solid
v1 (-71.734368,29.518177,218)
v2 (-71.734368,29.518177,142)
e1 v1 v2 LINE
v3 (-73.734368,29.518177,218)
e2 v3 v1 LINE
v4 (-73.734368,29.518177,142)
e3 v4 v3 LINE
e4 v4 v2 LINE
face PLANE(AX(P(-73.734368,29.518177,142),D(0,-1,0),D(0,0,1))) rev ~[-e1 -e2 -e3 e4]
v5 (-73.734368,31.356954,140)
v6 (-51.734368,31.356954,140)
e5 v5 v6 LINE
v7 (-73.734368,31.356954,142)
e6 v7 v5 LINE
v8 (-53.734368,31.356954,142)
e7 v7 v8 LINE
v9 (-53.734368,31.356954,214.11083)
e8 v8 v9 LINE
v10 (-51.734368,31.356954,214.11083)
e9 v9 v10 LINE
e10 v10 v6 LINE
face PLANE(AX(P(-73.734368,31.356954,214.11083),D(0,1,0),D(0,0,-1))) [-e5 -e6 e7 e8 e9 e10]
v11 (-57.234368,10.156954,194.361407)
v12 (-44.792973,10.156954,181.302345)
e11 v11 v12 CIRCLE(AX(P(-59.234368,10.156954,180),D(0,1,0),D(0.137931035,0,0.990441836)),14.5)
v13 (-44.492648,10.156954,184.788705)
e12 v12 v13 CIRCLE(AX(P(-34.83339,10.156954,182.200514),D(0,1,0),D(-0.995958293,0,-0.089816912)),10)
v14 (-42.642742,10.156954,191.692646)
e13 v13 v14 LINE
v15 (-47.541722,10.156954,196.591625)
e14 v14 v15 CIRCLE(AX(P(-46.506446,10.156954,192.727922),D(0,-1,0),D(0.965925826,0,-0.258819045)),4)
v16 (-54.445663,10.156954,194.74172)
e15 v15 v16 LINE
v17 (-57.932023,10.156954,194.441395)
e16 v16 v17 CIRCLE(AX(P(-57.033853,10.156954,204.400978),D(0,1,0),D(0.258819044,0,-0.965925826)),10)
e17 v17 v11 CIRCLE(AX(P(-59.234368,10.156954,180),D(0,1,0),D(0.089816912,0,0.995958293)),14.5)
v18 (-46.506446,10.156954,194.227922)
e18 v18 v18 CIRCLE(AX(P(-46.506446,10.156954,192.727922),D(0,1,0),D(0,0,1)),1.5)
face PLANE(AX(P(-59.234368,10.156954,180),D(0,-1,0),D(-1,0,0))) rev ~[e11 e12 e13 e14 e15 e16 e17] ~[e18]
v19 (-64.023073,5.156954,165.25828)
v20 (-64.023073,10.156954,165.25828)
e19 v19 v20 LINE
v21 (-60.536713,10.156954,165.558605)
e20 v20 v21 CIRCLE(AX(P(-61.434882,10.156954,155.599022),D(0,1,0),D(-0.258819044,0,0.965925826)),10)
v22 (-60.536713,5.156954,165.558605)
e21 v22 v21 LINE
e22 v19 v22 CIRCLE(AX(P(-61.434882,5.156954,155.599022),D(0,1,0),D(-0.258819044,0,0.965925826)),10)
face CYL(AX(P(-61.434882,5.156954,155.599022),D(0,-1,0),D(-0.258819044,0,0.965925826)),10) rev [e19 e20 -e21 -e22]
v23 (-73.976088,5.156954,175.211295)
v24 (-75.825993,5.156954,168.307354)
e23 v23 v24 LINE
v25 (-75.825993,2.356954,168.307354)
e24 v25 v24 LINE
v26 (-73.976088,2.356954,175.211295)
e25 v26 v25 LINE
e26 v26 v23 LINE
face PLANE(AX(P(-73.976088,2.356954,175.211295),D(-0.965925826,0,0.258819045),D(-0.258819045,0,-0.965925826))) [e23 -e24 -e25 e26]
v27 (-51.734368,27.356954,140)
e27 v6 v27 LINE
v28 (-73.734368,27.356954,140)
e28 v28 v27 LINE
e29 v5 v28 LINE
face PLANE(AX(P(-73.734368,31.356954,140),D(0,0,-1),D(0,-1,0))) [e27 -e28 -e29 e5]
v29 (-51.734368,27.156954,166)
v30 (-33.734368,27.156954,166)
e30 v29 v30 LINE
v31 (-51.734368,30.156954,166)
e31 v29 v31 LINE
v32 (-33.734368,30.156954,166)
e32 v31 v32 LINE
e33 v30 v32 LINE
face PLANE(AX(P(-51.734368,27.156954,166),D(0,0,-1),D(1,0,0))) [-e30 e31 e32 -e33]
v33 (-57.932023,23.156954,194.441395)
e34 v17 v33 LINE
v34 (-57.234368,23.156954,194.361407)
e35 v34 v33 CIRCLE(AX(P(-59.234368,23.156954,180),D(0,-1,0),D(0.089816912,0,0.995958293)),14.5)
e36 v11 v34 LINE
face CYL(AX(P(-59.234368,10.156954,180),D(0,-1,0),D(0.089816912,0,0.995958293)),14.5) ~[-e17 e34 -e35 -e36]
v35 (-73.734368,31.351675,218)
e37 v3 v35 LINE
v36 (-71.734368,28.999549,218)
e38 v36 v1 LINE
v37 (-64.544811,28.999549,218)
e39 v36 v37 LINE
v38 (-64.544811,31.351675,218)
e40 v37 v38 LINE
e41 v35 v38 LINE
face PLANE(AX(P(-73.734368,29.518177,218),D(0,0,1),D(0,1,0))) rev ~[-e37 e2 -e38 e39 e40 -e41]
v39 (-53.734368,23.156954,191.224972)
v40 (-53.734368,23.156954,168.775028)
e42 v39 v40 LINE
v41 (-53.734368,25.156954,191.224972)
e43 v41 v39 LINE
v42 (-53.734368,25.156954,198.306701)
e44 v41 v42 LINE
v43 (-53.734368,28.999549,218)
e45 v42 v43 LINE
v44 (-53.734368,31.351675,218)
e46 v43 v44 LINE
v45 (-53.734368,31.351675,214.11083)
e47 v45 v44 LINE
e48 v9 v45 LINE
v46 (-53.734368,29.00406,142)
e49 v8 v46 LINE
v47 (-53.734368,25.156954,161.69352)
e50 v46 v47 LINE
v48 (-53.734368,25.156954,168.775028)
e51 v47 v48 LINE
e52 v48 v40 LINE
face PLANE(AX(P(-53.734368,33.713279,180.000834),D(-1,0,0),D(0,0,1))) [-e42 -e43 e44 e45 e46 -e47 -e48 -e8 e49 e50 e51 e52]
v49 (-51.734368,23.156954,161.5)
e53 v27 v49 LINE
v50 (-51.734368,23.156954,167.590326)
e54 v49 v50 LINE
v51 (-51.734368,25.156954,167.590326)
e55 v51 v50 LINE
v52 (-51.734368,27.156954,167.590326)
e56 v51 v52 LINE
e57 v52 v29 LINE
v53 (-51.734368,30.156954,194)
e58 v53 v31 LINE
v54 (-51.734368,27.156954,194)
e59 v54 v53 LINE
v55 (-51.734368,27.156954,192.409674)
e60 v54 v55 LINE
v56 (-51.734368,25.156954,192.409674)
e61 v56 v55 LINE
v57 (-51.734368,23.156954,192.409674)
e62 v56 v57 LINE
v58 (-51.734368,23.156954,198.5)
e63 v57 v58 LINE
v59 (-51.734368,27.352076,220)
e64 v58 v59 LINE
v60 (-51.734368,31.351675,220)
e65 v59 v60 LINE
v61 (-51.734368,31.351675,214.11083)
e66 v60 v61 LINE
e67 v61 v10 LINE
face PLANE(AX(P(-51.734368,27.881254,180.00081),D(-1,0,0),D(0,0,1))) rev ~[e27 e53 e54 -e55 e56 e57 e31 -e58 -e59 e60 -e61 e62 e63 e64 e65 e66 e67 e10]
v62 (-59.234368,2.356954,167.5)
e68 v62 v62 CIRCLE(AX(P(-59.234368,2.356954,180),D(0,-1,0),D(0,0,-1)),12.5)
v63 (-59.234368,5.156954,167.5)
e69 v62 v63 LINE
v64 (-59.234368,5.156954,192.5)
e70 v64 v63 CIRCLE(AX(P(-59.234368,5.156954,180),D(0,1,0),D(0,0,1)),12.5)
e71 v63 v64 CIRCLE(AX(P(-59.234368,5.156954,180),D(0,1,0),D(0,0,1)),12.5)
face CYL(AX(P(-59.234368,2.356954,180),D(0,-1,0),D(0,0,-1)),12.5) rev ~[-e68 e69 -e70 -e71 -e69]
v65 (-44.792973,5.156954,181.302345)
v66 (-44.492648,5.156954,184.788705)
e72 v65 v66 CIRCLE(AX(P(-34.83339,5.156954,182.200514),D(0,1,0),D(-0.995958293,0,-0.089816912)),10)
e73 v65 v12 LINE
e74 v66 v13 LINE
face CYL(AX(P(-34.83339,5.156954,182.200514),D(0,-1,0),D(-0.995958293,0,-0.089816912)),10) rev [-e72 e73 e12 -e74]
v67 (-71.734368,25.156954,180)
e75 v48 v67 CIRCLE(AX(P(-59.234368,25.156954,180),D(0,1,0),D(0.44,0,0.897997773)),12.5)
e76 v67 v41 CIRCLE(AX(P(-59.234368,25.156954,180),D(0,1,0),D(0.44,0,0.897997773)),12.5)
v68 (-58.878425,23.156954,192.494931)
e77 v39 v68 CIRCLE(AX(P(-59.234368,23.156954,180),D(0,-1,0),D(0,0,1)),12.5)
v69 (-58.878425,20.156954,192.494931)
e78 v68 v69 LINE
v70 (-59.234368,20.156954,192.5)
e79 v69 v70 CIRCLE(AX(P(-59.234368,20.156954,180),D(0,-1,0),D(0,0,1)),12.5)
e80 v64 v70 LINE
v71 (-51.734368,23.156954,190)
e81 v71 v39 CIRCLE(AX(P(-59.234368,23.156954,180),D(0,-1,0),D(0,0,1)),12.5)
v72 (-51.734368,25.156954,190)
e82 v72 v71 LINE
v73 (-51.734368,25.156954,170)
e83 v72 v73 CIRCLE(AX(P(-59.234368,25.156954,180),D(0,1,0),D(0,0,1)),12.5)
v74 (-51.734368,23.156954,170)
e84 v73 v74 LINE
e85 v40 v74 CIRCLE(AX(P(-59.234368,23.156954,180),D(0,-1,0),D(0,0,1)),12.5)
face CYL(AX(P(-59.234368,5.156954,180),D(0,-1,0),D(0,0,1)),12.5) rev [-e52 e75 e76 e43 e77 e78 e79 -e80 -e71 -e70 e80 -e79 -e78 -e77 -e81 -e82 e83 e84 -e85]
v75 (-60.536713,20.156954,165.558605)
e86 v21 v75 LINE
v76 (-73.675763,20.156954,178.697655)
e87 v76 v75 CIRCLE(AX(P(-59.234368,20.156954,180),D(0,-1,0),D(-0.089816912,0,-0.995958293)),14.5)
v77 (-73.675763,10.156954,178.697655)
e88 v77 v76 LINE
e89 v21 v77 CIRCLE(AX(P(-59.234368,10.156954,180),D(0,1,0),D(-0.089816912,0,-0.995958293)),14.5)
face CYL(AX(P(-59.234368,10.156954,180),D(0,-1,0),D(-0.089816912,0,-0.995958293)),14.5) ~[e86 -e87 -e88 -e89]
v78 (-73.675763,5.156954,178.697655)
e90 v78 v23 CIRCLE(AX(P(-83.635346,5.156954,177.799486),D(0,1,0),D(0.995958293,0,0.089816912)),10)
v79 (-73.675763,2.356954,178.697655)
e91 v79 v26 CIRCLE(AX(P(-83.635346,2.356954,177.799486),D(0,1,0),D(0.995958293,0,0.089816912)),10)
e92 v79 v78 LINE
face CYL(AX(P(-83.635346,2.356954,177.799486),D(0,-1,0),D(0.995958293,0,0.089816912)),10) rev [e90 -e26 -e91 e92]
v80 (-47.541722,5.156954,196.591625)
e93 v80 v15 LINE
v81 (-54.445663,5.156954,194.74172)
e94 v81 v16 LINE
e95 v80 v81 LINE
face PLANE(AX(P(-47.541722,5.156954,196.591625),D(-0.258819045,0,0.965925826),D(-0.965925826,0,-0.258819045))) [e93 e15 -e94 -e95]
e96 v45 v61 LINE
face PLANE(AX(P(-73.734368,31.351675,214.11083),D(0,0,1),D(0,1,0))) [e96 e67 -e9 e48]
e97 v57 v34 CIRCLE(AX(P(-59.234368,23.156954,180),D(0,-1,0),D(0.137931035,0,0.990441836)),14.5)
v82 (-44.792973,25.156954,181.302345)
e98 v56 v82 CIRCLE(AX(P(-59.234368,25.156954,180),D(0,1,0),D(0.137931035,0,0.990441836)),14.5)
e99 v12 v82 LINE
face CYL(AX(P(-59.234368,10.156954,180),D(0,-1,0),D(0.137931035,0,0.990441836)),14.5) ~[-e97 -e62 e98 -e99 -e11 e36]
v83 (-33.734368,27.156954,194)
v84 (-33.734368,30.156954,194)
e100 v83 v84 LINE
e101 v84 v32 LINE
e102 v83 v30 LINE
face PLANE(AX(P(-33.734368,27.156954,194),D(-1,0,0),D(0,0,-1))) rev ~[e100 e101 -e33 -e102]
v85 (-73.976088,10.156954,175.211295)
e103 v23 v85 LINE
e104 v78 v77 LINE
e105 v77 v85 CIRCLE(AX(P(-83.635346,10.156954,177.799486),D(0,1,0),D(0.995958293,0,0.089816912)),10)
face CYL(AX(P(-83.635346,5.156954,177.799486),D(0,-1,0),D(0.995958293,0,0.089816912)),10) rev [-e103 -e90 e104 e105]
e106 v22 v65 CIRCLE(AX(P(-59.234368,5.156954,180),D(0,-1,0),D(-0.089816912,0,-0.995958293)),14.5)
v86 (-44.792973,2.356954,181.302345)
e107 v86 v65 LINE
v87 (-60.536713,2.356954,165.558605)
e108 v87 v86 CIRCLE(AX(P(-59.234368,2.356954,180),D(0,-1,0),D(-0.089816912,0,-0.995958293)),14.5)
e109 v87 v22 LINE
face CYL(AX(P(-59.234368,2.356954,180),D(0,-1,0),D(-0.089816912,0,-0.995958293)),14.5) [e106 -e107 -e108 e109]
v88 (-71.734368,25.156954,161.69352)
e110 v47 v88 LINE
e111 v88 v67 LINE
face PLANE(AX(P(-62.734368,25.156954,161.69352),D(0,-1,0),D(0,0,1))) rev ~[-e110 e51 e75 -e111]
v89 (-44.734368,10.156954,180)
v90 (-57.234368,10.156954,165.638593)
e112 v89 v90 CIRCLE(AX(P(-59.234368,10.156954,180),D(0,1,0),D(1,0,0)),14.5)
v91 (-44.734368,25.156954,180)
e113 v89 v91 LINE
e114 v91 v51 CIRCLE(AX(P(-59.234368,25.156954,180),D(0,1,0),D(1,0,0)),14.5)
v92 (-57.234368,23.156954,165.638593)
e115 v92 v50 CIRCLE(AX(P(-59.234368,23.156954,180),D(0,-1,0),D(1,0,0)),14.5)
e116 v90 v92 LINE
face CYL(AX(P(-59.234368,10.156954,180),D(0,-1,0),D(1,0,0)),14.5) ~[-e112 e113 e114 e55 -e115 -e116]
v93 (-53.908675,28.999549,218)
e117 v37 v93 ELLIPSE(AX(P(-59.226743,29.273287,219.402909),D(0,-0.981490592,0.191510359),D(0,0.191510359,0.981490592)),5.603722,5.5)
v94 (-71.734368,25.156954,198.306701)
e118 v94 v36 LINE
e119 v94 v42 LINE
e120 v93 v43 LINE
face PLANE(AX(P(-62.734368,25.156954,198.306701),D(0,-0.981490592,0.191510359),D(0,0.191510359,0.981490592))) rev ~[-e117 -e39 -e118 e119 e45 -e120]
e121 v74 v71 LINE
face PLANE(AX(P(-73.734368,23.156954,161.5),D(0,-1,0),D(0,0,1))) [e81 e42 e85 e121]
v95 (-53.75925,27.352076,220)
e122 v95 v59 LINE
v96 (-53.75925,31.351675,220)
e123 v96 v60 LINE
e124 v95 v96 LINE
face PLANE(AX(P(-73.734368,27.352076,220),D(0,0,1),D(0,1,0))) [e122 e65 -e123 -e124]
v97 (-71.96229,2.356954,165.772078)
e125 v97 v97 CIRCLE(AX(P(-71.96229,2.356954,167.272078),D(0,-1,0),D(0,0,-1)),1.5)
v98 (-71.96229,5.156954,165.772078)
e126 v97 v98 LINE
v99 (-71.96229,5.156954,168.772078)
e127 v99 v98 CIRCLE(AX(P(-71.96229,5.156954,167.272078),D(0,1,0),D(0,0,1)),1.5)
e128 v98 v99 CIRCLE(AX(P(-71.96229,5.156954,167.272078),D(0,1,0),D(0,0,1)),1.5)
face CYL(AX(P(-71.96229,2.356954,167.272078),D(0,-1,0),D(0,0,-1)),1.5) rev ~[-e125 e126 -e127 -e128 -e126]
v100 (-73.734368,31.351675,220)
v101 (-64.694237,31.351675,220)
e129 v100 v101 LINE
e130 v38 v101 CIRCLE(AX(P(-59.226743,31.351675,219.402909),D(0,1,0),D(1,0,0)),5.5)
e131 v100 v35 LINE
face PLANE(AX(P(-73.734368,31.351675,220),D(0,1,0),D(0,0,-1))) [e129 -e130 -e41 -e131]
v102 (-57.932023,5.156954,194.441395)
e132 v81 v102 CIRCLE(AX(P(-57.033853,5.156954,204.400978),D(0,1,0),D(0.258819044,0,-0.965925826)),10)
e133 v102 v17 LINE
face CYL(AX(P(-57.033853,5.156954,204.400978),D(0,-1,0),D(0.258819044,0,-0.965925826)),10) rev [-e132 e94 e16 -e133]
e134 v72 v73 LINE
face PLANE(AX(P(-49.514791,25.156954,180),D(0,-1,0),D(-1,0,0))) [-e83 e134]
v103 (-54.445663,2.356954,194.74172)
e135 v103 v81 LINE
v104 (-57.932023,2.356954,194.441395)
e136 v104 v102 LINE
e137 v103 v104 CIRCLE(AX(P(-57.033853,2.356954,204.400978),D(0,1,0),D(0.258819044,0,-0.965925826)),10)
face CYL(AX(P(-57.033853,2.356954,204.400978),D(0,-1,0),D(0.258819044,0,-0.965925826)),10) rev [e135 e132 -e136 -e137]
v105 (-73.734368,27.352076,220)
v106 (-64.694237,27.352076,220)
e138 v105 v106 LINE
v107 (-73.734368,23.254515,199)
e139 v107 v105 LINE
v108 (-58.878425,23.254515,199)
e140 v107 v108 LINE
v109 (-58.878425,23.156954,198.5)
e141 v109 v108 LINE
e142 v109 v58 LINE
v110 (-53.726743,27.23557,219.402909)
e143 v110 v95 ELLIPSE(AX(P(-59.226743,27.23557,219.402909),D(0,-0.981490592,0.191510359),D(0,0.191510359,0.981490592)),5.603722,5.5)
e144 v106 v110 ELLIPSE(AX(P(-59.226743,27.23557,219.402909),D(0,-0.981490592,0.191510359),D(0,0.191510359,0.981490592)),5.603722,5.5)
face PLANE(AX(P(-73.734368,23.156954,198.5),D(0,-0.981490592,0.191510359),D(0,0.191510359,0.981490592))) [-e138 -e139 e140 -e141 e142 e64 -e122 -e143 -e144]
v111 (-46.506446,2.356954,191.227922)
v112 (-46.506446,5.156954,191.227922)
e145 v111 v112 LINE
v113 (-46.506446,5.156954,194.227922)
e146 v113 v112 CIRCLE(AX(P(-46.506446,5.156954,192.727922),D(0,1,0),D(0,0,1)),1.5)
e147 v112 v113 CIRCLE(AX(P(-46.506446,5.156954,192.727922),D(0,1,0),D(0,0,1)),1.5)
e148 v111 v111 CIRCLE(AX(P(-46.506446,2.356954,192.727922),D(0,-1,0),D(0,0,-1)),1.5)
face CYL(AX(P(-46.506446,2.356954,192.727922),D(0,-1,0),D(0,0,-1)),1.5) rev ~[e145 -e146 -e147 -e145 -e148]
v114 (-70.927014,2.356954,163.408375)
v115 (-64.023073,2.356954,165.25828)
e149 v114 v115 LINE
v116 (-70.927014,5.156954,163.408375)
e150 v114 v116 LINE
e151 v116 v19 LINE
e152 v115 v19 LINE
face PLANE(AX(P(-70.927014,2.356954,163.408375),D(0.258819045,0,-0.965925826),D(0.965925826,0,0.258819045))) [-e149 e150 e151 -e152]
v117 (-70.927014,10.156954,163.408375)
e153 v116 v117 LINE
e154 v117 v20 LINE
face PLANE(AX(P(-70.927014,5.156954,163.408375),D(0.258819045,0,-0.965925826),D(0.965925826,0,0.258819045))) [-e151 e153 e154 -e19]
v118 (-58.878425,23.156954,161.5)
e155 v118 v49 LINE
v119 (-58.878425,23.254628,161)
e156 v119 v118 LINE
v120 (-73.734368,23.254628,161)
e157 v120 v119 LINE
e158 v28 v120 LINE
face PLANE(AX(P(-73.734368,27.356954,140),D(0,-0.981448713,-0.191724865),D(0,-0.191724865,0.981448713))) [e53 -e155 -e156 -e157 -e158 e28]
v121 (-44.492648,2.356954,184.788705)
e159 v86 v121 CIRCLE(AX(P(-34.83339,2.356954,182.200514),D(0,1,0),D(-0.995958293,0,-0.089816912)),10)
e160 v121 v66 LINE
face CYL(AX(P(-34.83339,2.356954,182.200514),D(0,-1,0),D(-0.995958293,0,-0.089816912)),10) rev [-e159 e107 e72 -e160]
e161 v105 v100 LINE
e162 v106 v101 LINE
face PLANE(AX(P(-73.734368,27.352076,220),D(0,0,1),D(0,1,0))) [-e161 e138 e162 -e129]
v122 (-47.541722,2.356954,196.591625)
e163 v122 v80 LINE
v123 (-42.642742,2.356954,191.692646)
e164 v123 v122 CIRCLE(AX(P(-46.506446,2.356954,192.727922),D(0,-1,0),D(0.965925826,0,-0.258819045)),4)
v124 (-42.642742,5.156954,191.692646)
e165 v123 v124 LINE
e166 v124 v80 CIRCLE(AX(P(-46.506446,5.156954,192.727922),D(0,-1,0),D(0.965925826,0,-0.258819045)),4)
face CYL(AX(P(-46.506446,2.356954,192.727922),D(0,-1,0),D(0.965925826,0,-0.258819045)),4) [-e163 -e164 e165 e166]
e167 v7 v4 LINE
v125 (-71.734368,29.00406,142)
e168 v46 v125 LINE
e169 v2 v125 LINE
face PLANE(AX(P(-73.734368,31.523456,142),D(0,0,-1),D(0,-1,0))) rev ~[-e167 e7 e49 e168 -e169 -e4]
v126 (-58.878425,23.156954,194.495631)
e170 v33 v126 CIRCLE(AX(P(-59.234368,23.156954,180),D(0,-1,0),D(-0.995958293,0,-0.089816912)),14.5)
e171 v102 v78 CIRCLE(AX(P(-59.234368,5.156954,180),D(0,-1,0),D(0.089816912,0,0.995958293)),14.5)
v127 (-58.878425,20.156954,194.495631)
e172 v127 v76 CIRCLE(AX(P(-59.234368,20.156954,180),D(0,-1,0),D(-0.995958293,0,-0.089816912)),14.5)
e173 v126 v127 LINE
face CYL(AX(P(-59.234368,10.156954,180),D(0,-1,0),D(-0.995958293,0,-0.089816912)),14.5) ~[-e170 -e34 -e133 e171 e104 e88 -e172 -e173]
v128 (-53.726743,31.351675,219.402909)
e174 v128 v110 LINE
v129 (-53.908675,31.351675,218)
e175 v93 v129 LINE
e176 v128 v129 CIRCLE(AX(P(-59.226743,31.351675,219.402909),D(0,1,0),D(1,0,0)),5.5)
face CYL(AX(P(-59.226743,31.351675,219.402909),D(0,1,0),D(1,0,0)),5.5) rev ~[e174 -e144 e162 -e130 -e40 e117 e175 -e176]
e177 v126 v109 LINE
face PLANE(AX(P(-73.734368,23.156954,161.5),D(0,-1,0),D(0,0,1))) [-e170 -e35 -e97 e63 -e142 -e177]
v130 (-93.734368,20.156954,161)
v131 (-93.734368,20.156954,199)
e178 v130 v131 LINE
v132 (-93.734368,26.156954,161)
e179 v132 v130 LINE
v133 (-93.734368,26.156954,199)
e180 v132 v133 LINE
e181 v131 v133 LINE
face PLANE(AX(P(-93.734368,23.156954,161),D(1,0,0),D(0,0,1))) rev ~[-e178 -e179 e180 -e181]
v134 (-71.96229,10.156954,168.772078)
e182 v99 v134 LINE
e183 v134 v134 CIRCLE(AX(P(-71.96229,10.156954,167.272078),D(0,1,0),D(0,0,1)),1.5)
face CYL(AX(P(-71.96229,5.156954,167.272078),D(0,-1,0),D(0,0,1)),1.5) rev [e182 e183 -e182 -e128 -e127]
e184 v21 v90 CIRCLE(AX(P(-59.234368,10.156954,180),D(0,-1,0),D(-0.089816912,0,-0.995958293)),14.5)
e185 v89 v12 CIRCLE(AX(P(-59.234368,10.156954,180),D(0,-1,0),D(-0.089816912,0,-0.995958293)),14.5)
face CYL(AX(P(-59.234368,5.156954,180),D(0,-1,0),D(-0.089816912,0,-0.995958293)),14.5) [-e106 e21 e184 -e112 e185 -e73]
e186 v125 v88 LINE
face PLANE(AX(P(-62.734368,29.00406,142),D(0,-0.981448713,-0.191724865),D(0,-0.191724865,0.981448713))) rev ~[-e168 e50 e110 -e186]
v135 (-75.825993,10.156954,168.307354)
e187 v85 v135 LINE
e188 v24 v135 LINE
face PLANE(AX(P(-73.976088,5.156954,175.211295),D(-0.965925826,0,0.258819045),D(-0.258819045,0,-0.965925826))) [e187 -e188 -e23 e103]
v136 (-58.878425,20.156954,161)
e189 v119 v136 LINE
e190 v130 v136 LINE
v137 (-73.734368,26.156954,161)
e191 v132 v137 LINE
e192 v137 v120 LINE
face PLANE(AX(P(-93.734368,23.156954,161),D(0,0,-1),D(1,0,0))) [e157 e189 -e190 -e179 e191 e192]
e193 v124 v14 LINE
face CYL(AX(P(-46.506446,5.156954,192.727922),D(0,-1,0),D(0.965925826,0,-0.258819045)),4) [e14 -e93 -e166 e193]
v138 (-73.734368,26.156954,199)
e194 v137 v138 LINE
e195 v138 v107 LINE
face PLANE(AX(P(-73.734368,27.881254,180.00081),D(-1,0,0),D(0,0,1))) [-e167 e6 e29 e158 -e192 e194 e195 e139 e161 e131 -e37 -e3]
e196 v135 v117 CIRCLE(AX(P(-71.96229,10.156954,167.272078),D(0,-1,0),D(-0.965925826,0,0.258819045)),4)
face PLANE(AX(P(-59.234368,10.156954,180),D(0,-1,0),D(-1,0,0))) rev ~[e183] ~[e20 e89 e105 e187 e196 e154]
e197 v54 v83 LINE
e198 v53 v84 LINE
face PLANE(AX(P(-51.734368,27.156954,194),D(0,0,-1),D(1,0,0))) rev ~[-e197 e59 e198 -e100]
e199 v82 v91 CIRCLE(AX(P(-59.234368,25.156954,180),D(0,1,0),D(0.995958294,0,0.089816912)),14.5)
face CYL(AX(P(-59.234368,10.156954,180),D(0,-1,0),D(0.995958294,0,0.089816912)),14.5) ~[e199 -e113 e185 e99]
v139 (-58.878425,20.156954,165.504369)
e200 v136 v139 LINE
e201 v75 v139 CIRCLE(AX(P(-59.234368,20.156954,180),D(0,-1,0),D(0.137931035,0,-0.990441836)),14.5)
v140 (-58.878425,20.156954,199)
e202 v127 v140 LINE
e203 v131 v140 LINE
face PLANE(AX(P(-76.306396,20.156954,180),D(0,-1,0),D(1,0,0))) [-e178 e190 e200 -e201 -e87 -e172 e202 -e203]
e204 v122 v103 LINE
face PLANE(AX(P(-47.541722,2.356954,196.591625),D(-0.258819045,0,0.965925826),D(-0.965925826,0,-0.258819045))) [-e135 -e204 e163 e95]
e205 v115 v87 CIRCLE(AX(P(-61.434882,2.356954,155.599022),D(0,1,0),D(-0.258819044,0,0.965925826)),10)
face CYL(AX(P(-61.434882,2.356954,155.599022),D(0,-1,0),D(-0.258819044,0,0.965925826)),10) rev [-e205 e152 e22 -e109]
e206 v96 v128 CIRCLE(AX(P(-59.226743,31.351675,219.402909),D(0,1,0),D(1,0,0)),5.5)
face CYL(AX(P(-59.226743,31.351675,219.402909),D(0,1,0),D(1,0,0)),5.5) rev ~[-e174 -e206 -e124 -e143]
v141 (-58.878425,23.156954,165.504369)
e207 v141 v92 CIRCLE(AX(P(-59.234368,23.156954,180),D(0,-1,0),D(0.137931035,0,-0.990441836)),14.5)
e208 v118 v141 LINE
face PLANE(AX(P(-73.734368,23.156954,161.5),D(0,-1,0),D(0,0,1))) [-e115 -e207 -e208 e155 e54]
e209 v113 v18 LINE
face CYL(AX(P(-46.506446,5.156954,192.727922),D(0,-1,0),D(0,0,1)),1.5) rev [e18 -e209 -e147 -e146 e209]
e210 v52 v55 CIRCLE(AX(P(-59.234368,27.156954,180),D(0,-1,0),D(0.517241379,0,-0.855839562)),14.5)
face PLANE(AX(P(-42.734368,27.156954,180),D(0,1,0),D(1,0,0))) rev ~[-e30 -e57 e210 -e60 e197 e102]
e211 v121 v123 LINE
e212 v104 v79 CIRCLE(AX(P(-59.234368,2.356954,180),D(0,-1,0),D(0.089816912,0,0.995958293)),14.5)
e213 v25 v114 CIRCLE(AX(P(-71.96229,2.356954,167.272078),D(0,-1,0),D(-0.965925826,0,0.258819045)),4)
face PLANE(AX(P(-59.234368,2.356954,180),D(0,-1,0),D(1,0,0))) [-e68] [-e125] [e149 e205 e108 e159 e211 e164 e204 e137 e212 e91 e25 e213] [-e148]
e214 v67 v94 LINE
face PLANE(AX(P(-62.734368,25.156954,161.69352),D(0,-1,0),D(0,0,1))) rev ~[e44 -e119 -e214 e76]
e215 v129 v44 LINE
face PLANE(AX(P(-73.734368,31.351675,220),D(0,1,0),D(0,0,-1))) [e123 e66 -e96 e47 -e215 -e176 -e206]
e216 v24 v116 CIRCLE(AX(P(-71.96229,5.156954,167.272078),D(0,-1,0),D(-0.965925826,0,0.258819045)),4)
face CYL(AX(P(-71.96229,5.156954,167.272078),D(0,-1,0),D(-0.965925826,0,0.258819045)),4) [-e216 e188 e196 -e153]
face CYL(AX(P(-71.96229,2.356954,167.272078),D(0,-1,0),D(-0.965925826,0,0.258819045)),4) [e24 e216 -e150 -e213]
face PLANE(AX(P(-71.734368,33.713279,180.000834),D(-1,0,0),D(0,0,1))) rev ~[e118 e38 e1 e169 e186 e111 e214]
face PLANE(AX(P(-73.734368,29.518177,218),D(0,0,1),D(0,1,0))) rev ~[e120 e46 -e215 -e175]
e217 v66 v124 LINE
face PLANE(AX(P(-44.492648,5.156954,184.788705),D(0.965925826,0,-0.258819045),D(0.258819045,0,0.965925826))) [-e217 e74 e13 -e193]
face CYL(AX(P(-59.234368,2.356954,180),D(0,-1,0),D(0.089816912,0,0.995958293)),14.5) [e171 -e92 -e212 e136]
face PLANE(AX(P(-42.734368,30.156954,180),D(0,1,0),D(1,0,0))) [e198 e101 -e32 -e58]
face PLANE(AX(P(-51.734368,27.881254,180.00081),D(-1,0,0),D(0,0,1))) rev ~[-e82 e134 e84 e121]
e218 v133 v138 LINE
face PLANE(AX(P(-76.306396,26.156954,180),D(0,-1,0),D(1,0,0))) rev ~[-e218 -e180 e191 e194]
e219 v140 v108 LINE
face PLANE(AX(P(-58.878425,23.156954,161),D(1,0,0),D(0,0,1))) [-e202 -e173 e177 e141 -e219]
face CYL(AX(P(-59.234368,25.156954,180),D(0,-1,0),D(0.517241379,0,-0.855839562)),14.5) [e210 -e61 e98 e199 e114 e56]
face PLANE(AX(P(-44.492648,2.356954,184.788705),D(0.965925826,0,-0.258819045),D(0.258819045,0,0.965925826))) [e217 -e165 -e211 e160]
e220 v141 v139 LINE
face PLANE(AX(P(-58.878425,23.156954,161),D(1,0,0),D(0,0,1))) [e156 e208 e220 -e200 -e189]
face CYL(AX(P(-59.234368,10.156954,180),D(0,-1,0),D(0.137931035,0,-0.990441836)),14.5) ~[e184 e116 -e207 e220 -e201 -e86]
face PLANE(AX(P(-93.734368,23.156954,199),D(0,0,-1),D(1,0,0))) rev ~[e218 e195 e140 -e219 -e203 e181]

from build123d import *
from build123d.topology import SkipClean

# Parameters (mm, degrees)
SKETCH_1_R               = 12.5
SKETCH_1_R_2             = 1.5
EXTRUDE_1_DEPTH          = 5
SKETCH_2_R               = 12.5
EXTRUDE_2_DEPTH          = 15
EXTRUDE_4_DEPTH          = 22
EXTRUDE_5_DEPTH          = 2
SKETCH_11_W              = 34.855942827
SKETCH_11_H              = 38
EXTRUDE_7_DEPTH          = 3
CUT_EXTRUDE_2_DEPTH      = 240.812701315
CUT_EXTRUDE_2_DEPTH_BACK = 240.812701315
CUT_EXTRUDE_3_DEPTH      = 9
CUT_EXTRUDE_4_REACH      = 226.407
EXTRUDE_START            = 2.8
SKETCH_12_R              = 12.5
SKETCH_12_R_2            = 1.5
EXTRUDE_8_DEPTH          = 2.8
SKETCH_10_W              = 18
SKETCH_10_H              = 28
EXTRUDE_6_DEPTH          = 3
SKETCH_4_R               = 5.5
CUT_EXTRUDE_1_DEPTH      = 10


with BuildPart() as part:
    # 草圖1 → 填料-伸長1 (new body)
    with BuildSketch(Plane(origin=(0, 5.156954032, 0), x_dir=(1, 0, 0), z_dir=(0, 1, 0))):
        with BuildLine():
            ThreePointArc((-44.792972571, -181.302345222), (-44.796491977, -183.058763578), (-44.492647899, -184.788704792))
            Line((-44.492647899, -184.788704792), (-42.64274246, -191.692645881))
            ThreePointArc((-42.64274246, -191.692645881), (-43.67801864, -195.556349186), (-47.541721945, -196.591625367))
            Line((-47.541721945, -196.591625367), (-54.445663034, -194.741719927))
            ThreePointArc((-54.445663034, -194.741719927), (-56.175604248, -194.43787585), (-57.932022604, -194.441395255))
            ThreePointArc((-57.932022604, -194.441395255), (-69.487416154, -190.253048327), (-73.675763082, -178.697654778))
            ThreePointArc((-73.675763082, -178.697654778), (-73.672243676, -176.941236422), (-73.976087754, -175.211295208))
            Line((-73.976087754, -175.211295208), (-75.825993193, -168.307354119))
            ThreePointArc((-75.825993193, -168.307354119), (-74.790717013, -164.443650814), (-70.927013707, -163.408374633))
            Line((-70.927013707, -163.408374633), (-64.023072619, -165.258280073))
            ThreePointArc((-64.023072619, -165.258280073), (-62.293131405, -165.56212415), (-60.536713049, -165.558604745))
            ThreePointArc((-60.536713049, -165.558604745), (-48.981319499, -169.746951673), (-44.792972571, -181.302345222))
        make_face()
        with Locations(Location((-59.234367826, -180, 0), (0, 0, 270))):
            Circle(SKETCH_1_R, mode=Mode.SUBTRACT)
        with Locations(Location((-71.962289888, -167.272077939, 0), (0, 0, 270))):
            Circle(SKETCH_1_R_2, mode=Mode.SUBTRACT)
        with Locations(Location((-46.506445765, -192.727922061, 0), (0, 0, 270))):
            Circle(SKETCH_1_R_2, mode=Mode.SUBTRACT)
    extrude(amount=EXTRUDE_1_DEPTH)

    # 草圖2 → 填料-伸長2 (add)
    with SkipClean():  # the faces are left unmerged after this step: merging them gives an invalid solid
        with BuildSketch(Plane(origin=(0, 10.156954032, 0), x_dir=(1, 0, 0), z_dir=(0, 1, 0))):
            with BuildLine():
                ThreePointArc((-57.932022604, -194.441395255), (-57.58271092, -194.405624924), (-57.234367826, -194.361406616))
                ThreePointArc((-57.234367826, -194.361406616), (-48.736051742, -190.001767813), (-44.792972571, -181.302345222))
                ThreePointArc((-44.792972571, -181.302345222), (-44.749026422, -180.651831572), (-44.734367826, -180))
                ThreePointArc((-44.734367826, -180), (-48.297046399, -170.480283618), (-57.234367826, -165.638593384))
                ThreePointArc((-57.234367826, -165.638593384), (-58.883255177, -165.504251661), (-60.536713049, -165.558604745))
                ThreePointArc((-60.536713049, -165.558604745), (-69.487416154, -169.746951673), (-73.675763082, -178.697654778))
                ThreePointArc((-73.675763082, -178.697654778), (-69.487416154, -190.253048327), (-57.932022604, -194.441395255))
            make_face()
            with Locations(Location((-59.234367826, -180, 0), (0, 0, 270))):
                Circle(SKETCH_2_R, mode=Mode.SUBTRACT)
        extrude(amount=EXTRUDE_2_DEPTH)

    # 草圖3 → 填料-伸長4 (add)
    with SkipClean():  # the faces are left unmerged after this step: merging them gives an invalid solid
        with BuildSketch(Plane.ZY.offset(73.734367826)):
            Polygon((220, 27.352075983), (220, 31.351675277), (214.110829696, 31.351675277), (214.110829696, 31.356954032), (140, 31.356954032), (140, 27.356954032), (161.5, 23.156954032), (180, 23.156954032), (198.5, 23.156954032), align=None)
        extrude(amount=-EXTRUDE_4_DEPTH)

    # 草圖5 → 填料-伸長5 (add)
    with SkipClean():  # the faces are left unmerged after this step: merging them gives an invalid solid
        with BuildSketch(Plane(origin=(0, 25.156954032, 0), x_dir=(1, 0, 0), z_dir=(0, 1, 0))):
            with BuildLine():
                Line((-51.734367826, -192.409673646), (-51.734367826, -167.590326354))
                ThreePointArc((-51.734367826, -167.590326354), (-44.734367826, -180), (-51.734367826, -192.409673646))
            make_face()
        extrude(amount=EXTRUDE_5_DEPTH)

    # 草圖11 → 填料-伸長7 (add, symmetric)
    with SkipClean():  # the faces are left unmerged after this step: merging them gives an invalid solid
        with BuildSketch(Plane.XZ.offset(-23.156954032)):
            with Locations((-76.306396413, 180)):
                Rectangle(SKETCH_11_W, SKETCH_11_H)
        extrude(amount=EXTRUDE_7_DEPTH, both=True)

    # 草圖6 → 除料-伸長2 (cut, two sides: drawn at the far end of the back side and taken through both)
    with SkipClean():  # the faces are left unmerged after this step: merging them gives an invalid solid
        with BuildSketch(Plane.XZ.offset(-23.156954032).offset(-CUT_EXTRUDE_2_DEPTH_BACK)):
            with BuildLine():
                Line((-53.734367826, 168.77502784), (-53.734367826, 191.22497216))
                ThreePointArc((-53.734367826, 191.22497216), (-71.734367826, 180), (-53.734367826, 168.77502784))
            make_face()
        extrude(amount=CUT_EXTRUDE_2_DEPTH + CUT_EXTRUDE_2_DEPTH_BACK, mode=Mode.SUBTRACT)

    # 草圖7 → 除料-伸長3 (cut, symmetric)
    with SkipClean():  # the faces are left unmerged after this step: merging them gives an invalid solid
        with BuildSketch(Plane.ZY.offset(62.734367826)):
            Polygon((218, 29.351675277), (218, 40.942624065), (142, 40.942624065), (142, 29.356954032), (142, 29.004060242), (161.693519886, 25.156954032), (180, 25.156954032), (198.306700713, 25.156954032), (218, 28.999549015), align=None)
        extrude(amount=CUT_EXTRUDE_3_DEPTH, both=True, mode=Mode.SUBTRACT)

    # 草圖9 → 除料-伸長4 (cut, up to next)
    with BuildSketch(Plane.ZY.offset(73.734367826), mode=Mode.PRIVATE) as cut_extrude_4_sk1:
        Polygon((142, 31.523455744), (142, 29.51817699), (218, 29.51817699), (218, 31.51817699), align=None)
    cut_extrude_4_tool1 = extrude(cut_extrude_4_sk1.sketch, amount=-CUT_EXTRUDE_4_REACH, mode=Mode.PRIVATE) & part.part
    add(cut_extrude_4_tool1.solids().sort_by_distance((-73.734368, 30.519497, 179.983306))[0], mode=Mode.SUBTRACT)

    # 草圖12 → 填料-伸長8 (add)
    with SkipClean():  # the faces are left unmerged after this step: merging them gives an invalid solid
        with BuildSketch(Plane.XZ.offset(-5.156954032).offset(EXTRUDE_START)):
            with BuildLine():
                Line((-44.492647899, 184.788704792), (-42.64274246, 191.692645881))
                ThreePointArc((-42.64274246, 191.692645881), (-43.67801864, 195.556349186), (-47.541721945, 196.591625367))
                Line((-47.541721945, 196.591625367), (-54.445663034, 194.741719927))
                ThreePointArc((-54.445663034, 194.741719927), (-56.175604248, 194.43787585), (-57.932022604, 194.441395255))
                ThreePointArc((-57.932022604, 194.441395255), (-69.487416154, 190.253048327), (-73.675763082, 178.697654778))
                ThreePointArc((-73.675763082, 178.697654778), (-73.672243676, 176.941236422), (-73.976087754, 175.211295208))
                Line((-73.976087754, 175.211295208), (-75.825993193, 168.307354119))
                ThreePointArc((-75.825993193, 168.307354119), (-74.790717013, 164.443650814), (-70.927013707, 163.408374633))
                Line((-70.927013707, 163.408374633), (-64.023072619, 165.258280073))
                ThreePointArc((-64.023072619, 165.258280073), (-62.293131405, 165.56212415), (-60.536713049, 165.558604745))
                ThreePointArc((-60.536713049, 165.558604745), (-48.981319499, 169.746951673), (-44.792972571, 181.302345222))
                ThreePointArc((-44.792972571, 181.302345222), (-44.796491977, 183.058763578), (-44.492647899, 184.788704792))
            make_face()
            with Locations(Location((-59.234367826, 180, 0), (0, 0, 270))):
                Circle(SKETCH_12_R, mode=Mode.SUBTRACT)
            with Locations(Location((-71.962289888, 167.272077939, 0), (0, 0, 270))):
                Circle(SKETCH_12_R_2, mode=Mode.SUBTRACT)
            with Locations(Location((-46.506445765, 192.727922061, 0), (0, 0, 270))):
                Circle(SKETCH_12_R_2, mode=Mode.SUBTRACT)
        extrude(amount=-EXTRUDE_8_DEPTH)

    # 草圖10 → 填料-伸長6 (add)
    with SkipClean():  # the faces are left unmerged after this step: merging them gives an invalid solid
        with BuildSketch(Plane(origin=(0, 27.156954032, 0), x_dir=(1, 0, 0), z_dir=(0, 1, 0))):
            with Locations((-42.734367826, -180)):
                Rectangle(SKETCH_10_W, SKETCH_10_H)
        extrude(amount=EXTRUDE_6_DEPTH)

    # 草圖4 → 除料-伸長1 (cut)
    with SkipClean():  # the faces are left unmerged after this step: merging them gives an invalid solid
        with BuildSketch(Plane(origin=(0, 31.351675277, 0), x_dir=(1, 0, 0), z_dir=(0, 1, 0))):
            with Locations((-59.226743272, -219.402909175)):
                Circle(SKETCH_4_R)
        extrude(amount=-CUT_EXTRUDE_1_DEPTH, mode=Mode.SUBTRACT)


solid = part.part
